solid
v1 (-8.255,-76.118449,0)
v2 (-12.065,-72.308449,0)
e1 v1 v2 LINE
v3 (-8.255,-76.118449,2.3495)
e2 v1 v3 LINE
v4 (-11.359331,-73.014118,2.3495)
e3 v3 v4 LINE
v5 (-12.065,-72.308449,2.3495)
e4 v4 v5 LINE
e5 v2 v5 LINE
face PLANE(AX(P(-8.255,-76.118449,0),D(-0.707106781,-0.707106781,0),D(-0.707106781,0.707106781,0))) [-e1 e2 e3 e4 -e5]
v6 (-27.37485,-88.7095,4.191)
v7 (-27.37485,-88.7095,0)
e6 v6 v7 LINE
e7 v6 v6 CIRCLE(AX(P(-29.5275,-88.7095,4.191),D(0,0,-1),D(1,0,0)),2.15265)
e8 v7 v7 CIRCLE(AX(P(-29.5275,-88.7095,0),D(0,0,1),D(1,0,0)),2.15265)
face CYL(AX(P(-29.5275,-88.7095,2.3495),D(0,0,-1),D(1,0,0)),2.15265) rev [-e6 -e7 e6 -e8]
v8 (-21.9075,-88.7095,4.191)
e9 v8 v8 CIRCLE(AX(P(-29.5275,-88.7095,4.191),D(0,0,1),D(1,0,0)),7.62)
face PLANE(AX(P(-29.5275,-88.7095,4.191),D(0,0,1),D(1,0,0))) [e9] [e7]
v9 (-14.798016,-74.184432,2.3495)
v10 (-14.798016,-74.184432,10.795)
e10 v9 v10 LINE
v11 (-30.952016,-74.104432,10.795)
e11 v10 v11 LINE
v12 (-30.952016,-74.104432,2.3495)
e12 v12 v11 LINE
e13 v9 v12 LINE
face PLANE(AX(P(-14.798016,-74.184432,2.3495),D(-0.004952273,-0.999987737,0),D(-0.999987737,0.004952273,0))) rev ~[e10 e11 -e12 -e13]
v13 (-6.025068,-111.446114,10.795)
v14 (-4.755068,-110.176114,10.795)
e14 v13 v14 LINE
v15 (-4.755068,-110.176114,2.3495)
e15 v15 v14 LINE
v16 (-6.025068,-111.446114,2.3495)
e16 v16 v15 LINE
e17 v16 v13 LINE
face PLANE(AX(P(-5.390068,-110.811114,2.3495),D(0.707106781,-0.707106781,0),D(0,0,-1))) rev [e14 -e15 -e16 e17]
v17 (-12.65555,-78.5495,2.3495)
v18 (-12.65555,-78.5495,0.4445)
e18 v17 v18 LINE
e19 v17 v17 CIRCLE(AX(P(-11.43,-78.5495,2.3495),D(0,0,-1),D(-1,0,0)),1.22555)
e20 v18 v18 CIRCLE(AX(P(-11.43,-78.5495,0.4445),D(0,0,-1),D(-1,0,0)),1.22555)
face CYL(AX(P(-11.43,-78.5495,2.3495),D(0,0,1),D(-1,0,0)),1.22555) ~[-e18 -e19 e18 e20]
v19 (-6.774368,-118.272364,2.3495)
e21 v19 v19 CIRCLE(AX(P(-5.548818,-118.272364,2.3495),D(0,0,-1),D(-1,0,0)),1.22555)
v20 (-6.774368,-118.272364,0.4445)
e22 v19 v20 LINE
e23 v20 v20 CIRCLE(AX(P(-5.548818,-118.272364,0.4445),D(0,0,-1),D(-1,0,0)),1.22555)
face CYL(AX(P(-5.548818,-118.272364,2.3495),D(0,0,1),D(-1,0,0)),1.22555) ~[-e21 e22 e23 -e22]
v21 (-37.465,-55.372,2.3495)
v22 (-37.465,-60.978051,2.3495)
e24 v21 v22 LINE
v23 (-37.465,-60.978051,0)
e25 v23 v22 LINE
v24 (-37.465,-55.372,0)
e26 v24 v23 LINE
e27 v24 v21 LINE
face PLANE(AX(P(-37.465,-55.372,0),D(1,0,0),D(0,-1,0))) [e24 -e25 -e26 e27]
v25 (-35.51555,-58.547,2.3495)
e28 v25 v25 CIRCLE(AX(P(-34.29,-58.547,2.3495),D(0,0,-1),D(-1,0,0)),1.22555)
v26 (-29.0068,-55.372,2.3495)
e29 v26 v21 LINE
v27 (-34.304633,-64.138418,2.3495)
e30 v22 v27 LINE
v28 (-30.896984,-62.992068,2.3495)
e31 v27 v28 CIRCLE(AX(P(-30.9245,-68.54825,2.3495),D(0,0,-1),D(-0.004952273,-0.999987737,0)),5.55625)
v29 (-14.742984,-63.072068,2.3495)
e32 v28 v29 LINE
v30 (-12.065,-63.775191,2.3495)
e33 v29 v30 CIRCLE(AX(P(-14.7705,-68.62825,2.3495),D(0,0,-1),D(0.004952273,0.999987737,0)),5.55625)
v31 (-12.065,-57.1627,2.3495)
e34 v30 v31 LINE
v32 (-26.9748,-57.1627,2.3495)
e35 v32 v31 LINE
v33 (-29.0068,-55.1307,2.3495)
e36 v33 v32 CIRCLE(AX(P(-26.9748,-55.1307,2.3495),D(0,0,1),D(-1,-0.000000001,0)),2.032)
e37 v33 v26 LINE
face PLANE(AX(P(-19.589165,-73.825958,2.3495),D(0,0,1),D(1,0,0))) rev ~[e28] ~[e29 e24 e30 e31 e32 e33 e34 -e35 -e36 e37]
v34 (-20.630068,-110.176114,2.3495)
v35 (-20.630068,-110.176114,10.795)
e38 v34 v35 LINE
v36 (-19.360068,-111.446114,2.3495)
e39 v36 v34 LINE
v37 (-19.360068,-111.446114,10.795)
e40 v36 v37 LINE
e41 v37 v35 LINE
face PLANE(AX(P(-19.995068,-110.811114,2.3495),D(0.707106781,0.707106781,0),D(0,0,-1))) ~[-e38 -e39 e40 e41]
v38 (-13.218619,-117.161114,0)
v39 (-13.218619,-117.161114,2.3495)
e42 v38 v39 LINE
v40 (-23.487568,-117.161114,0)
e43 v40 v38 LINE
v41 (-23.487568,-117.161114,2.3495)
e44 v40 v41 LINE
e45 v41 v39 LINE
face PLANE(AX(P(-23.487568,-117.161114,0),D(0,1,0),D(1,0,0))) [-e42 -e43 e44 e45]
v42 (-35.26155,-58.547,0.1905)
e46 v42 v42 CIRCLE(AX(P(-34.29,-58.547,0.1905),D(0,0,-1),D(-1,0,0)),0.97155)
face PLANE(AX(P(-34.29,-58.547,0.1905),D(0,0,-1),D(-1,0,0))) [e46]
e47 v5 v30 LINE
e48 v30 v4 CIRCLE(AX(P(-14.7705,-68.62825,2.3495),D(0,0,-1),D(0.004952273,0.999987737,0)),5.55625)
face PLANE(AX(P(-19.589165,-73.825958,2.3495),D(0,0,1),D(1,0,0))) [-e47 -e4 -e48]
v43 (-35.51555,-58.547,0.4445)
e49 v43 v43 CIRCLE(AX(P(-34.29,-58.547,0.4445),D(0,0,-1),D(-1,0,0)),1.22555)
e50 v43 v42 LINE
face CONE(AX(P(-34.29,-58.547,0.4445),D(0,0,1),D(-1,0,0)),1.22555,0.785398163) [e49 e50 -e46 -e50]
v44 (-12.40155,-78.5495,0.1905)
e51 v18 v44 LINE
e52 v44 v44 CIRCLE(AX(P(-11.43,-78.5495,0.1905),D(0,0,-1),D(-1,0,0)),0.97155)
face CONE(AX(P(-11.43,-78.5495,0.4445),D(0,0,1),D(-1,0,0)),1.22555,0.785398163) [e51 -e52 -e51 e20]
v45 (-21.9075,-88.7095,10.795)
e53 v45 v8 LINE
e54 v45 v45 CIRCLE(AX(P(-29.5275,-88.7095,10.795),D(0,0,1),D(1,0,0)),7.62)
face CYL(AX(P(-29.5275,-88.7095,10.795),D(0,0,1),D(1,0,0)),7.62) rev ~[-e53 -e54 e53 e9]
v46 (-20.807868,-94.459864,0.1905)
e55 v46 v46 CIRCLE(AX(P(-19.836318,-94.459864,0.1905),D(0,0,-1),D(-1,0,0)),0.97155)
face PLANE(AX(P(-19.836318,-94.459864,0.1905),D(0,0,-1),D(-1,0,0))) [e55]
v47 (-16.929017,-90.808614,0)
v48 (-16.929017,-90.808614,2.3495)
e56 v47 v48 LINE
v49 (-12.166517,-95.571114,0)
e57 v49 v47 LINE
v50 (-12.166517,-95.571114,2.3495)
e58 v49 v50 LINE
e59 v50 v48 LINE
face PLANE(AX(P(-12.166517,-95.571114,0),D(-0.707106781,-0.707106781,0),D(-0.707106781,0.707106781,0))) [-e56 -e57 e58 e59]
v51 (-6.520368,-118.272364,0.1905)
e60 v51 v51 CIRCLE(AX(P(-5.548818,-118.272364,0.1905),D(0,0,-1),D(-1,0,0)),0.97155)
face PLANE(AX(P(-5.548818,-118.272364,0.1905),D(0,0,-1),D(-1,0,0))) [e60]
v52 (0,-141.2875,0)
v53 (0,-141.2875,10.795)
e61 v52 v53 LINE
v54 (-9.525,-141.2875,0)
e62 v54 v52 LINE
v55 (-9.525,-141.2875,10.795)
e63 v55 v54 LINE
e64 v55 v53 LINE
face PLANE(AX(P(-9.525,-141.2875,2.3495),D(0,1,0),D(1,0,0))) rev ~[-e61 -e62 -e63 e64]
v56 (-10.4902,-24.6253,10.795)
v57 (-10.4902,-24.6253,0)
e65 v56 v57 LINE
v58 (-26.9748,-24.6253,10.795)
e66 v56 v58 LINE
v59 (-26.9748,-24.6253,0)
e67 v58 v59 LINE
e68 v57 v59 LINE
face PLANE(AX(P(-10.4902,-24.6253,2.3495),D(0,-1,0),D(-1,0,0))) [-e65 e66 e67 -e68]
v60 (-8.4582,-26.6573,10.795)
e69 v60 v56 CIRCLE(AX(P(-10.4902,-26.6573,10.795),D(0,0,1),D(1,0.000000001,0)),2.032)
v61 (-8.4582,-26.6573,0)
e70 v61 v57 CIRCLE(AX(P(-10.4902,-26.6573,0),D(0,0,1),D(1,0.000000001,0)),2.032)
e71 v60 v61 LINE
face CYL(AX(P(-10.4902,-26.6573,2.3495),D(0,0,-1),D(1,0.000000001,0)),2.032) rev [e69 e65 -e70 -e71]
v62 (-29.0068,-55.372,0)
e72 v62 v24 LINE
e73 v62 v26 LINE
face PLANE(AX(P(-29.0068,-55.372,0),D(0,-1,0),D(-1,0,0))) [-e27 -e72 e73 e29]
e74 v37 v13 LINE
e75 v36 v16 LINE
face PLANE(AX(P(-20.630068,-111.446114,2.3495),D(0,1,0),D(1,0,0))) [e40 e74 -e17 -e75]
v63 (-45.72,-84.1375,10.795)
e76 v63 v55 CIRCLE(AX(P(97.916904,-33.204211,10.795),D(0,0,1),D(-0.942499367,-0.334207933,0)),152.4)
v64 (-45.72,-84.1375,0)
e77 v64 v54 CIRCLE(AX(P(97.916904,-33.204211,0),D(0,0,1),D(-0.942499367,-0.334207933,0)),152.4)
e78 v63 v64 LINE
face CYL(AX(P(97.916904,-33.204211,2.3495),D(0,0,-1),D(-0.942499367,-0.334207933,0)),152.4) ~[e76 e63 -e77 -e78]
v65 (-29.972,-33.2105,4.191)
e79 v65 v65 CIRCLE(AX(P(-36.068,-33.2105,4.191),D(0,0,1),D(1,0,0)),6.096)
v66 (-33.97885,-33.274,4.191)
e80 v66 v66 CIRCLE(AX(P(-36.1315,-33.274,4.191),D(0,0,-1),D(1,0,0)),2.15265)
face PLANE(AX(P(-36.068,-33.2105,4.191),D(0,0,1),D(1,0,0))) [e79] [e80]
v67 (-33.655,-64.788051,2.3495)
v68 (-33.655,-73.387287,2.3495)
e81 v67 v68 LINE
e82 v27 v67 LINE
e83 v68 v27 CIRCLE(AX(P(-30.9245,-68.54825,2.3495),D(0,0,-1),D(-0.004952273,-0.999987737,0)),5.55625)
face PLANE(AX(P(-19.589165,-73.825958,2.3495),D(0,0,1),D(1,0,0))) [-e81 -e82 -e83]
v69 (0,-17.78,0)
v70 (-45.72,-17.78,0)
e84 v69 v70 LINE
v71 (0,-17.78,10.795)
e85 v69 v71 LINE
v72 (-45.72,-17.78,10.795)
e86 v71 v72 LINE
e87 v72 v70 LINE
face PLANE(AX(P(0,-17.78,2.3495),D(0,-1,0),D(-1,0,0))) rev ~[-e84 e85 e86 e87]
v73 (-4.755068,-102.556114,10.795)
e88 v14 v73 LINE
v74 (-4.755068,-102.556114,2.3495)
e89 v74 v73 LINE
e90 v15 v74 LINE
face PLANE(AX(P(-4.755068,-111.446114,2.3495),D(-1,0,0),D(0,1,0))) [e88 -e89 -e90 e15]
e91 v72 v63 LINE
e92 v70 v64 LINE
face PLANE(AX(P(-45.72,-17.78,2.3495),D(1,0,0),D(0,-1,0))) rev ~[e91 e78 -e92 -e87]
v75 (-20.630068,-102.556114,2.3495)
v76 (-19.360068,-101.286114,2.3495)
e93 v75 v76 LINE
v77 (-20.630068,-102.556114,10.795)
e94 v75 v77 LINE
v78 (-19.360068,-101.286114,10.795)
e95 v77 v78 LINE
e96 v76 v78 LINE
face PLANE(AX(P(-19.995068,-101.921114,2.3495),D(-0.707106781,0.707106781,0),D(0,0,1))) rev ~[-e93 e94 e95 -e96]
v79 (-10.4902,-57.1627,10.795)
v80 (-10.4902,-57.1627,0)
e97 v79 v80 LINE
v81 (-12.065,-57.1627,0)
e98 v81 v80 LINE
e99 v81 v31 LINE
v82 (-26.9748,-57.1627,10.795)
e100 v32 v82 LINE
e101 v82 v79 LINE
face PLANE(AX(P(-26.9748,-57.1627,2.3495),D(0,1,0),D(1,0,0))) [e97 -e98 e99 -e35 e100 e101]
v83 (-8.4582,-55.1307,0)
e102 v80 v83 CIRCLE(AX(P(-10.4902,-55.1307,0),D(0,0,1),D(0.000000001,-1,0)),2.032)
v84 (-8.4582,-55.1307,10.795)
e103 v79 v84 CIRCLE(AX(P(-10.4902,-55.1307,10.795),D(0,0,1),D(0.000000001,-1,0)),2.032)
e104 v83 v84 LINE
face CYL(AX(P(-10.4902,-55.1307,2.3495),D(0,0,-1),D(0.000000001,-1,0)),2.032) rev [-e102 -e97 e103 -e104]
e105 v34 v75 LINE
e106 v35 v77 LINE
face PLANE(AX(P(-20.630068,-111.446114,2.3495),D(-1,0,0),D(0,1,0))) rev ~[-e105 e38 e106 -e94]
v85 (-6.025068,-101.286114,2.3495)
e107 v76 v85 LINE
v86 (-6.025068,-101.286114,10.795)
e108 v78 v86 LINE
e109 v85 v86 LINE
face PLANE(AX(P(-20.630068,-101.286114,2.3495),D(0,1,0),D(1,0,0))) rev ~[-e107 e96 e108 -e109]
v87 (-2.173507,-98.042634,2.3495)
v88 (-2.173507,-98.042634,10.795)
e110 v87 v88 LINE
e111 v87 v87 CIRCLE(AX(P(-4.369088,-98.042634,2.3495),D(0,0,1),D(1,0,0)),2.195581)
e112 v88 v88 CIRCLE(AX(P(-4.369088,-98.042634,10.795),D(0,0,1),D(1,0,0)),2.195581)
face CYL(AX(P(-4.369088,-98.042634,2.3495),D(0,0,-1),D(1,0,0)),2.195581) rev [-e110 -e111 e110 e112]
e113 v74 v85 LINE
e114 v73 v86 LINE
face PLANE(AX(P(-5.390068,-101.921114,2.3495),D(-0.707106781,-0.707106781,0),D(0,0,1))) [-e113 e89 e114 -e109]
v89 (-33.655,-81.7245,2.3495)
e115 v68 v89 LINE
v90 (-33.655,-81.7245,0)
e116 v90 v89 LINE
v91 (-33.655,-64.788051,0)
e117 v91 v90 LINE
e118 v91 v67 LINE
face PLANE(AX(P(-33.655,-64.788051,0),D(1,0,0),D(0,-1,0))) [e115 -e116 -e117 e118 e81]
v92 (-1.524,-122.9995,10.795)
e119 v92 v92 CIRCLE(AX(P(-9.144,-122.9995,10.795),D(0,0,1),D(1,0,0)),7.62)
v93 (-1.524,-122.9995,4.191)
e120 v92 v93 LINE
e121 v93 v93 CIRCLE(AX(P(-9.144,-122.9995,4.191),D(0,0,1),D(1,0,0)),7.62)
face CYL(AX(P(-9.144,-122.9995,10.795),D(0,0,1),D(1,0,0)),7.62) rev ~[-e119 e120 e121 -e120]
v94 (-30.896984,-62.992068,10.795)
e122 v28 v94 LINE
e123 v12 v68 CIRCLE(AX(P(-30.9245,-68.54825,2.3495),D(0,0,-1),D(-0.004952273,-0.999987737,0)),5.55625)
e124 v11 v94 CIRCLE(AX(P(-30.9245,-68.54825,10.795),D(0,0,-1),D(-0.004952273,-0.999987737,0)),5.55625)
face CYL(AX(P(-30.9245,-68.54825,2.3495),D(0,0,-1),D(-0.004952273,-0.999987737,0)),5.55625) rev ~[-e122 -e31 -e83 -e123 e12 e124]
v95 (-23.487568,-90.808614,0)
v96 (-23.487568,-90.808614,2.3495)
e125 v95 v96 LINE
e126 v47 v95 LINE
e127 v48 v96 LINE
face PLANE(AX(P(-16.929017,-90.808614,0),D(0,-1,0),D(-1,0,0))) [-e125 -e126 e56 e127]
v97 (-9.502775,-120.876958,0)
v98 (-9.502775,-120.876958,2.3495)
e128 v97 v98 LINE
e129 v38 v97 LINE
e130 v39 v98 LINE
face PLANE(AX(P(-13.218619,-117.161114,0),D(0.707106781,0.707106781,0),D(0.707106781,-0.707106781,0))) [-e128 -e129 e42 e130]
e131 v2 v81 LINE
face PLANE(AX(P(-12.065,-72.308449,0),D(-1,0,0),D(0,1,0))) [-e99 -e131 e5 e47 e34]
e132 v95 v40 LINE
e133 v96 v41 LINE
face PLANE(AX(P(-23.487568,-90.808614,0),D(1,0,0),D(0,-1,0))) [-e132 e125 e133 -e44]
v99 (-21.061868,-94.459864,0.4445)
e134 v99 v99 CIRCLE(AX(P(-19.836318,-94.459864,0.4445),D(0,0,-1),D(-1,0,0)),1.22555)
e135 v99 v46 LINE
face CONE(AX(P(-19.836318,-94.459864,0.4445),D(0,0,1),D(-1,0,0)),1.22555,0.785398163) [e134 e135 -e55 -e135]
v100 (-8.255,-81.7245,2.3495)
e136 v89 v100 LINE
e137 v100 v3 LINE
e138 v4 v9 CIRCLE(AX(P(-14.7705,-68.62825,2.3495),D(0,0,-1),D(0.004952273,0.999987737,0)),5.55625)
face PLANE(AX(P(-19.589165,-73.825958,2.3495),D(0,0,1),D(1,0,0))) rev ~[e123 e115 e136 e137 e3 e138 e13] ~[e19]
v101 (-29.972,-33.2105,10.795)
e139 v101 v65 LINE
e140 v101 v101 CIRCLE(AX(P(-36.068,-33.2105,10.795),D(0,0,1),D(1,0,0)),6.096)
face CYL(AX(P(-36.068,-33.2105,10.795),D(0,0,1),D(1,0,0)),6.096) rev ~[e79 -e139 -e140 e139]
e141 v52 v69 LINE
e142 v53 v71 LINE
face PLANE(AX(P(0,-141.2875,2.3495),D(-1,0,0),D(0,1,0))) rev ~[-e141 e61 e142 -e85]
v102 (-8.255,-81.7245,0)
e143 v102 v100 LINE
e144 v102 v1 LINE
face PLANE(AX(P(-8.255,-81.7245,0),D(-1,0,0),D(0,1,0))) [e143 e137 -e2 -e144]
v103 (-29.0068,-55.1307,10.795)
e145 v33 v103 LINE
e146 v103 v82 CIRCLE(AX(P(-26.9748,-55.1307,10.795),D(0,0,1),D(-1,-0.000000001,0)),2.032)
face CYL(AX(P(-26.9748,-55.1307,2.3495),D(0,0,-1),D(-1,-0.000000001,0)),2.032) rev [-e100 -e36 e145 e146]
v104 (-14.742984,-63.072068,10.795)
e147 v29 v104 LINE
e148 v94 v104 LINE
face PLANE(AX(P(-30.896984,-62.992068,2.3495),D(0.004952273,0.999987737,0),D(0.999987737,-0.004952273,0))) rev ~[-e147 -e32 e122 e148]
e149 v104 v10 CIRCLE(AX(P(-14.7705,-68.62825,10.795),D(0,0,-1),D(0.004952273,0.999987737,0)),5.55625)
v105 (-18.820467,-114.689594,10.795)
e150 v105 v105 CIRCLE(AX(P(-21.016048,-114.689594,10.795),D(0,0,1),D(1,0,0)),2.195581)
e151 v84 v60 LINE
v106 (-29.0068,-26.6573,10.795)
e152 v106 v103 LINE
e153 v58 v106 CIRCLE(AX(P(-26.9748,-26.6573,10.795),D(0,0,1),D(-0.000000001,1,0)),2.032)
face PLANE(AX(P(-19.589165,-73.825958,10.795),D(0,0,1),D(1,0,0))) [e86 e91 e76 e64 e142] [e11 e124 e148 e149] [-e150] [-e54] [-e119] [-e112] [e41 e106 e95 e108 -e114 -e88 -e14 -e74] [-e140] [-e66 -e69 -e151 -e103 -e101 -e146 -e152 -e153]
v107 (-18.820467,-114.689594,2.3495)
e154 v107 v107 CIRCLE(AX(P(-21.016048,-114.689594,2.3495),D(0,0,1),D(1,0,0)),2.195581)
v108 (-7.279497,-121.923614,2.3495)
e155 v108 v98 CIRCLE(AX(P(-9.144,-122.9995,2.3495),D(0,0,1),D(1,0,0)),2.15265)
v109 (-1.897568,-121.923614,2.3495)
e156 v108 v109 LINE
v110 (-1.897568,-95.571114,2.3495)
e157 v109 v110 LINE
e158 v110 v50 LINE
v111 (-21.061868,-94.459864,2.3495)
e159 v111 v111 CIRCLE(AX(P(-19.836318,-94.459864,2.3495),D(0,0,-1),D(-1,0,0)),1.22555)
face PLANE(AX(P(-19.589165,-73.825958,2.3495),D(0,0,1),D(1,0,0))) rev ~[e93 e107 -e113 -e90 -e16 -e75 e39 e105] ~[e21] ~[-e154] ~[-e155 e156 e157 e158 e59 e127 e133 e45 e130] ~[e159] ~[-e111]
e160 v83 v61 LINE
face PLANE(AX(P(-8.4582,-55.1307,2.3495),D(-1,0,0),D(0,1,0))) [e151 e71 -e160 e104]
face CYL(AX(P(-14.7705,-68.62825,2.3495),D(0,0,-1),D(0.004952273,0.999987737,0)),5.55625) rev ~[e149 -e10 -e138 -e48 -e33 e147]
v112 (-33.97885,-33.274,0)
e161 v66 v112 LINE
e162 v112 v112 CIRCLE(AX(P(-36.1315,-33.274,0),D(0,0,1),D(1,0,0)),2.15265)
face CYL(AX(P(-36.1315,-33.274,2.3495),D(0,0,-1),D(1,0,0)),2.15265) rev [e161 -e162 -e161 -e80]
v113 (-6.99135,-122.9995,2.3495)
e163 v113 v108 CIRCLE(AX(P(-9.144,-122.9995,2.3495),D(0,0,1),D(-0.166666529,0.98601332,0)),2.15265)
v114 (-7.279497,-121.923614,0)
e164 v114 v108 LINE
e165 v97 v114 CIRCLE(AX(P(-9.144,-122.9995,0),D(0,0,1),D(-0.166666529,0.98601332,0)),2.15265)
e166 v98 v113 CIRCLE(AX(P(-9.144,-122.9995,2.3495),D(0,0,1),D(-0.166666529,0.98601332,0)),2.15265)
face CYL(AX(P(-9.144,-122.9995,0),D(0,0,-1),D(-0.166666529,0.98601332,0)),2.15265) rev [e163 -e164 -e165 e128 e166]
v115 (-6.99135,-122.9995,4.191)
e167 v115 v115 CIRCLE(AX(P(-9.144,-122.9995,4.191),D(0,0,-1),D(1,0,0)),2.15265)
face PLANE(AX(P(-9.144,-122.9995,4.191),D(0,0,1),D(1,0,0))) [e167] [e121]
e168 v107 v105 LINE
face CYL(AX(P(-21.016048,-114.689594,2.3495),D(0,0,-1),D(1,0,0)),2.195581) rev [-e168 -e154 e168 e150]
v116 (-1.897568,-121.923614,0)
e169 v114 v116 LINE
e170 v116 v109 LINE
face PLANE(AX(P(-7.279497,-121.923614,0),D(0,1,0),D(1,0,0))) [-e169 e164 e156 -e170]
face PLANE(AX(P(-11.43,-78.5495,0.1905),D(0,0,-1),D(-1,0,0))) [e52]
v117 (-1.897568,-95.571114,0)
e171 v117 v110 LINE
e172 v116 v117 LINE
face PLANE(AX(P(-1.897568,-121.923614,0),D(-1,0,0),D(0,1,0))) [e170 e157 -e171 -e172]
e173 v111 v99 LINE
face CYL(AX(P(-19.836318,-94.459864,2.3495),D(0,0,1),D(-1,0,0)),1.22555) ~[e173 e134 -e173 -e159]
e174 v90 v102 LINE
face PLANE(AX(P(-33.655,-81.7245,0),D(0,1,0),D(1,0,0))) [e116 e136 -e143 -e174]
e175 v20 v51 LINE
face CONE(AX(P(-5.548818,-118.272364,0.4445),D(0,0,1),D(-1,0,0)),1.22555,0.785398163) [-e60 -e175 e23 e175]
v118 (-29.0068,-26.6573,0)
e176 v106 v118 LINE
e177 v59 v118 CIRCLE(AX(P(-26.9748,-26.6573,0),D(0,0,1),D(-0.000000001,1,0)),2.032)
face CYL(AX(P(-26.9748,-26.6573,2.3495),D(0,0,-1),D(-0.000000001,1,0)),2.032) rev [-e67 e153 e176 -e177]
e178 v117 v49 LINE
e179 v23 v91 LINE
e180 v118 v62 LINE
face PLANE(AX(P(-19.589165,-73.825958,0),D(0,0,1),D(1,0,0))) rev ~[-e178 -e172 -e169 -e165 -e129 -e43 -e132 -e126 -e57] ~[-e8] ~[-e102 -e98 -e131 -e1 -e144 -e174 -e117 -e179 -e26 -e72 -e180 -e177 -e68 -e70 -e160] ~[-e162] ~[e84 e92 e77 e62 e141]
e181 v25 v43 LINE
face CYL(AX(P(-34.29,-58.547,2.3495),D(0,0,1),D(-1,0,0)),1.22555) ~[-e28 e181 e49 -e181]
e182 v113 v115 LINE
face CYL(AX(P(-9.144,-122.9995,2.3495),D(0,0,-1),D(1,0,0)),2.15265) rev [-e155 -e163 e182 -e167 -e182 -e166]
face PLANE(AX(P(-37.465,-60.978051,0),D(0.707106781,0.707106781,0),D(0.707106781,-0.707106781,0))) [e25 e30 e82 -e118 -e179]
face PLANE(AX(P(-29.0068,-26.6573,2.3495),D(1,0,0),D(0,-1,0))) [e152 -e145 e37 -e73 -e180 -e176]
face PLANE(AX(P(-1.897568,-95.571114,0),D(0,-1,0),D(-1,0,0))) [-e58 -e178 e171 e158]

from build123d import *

# Parameters (mm, degrees)
SKETCH1_R           = 2.15265
BOSS_EXTRUDE1_DEPTH = 2.3495
SKETCH2_R           = 2.15265
SKETCH2_R_2         = 2.195581339
SKETCH2_W           = 15.875
SKETCH2_H           = 10.16
BOSS_EXTRUDE2_DEPTH = 8.4455
SKETCH3_R           = 1.22555
BOSS_EXTRUDE3_DEPTH = 2.159
CHAMFER1_SIZE       = 0.254
CHAMFER2_SIZE       = 1.27
SKETCH5_R           = 7.62
SKETCH5_R_2         = 6.096
CUT_EXTRUDE1_DEPTH  = 6.604


with BuildPart() as part:
    # Sketch1 → Boss-Extrude1 (new body)
    with BuildSketch(Plane.XY):
        with BuildLine():
            Line((0, -17.78), (-45.72, -17.78))
            Line((-45.72, -17.78), (-45.72, -84.1375))
            ThreePointArc((-45.72, -84.1375), (-30.833523511, -114.746148224), (-9.525, -141.2875))
            Line((-9.525, -141.2875), (0, -141.2875))
            Line((0, -141.2875), (0, -17.78))
        make_face()
        with Locations((-36.1315, -33.274)):
            Circle(SKETCH1_R, mode=Mode.SUBTRACT)
        with Locations((-29.5275, -88.7095)):
            Circle(SKETCH1_R, mode=Mode.SUBTRACT)
        with BuildLine():
            Line((-1.89756812, -121.923613785), (-1.89756812, -95.571113785))
            Line((-1.89756812, -95.571113785), (-12.166516896, -95.571113785))
            Line((-12.166516896, -95.571113785), (-16.929016896, -90.808613785))
            Line((-16.929016896, -90.808613785), (-23.48756812, -90.808613785))
            Line((-23.48756812, -90.808613785), (-23.48756812, -117.161113785))
            Line((-23.48756812, -117.161113785), (-13.218619344, -117.161113785))
            Line((-13.218619344, -117.161113785), (-9.502774703, -120.876958426))
            ThreePointArc((-9.502774703, -120.876958426), (-10.060883947, -124.947120561), (-7.279497151, -121.923613785))
            Line((-7.279497151, -121.923613785), (-1.89756812, -121.923613785))
        make_face(mode=Mode.SUBTRACT)
        with BuildLine():
            Line((-33.655, -81.7245), (-8.255, -81.7245))
            Line((-8.255, -81.7245), (-8.255, -76.118448776))
            Line((-8.255, -76.118448776), (-12.065, -72.308448776))
            Line((-12.065, -72.308448776), (-12.065, -57.1627))
            Line((-12.065, -57.1627), (-10.4902, -57.1627))
            ThreePointArc((-10.4902, -57.1627), (-9.053359021, -56.567540979), (-8.4582, -55.1307))
            Line((-8.4582, -55.1307), (-8.4582, -26.6573))
            ThreePointArc((-8.4582, -26.6573), (-9.053359021, -25.220459021), (-10.4902, -24.6253))
            Line((-10.4902, -24.6253), (-26.9748, -24.6253))
            ThreePointArc((-26.9748, -24.6253), (-28.411640979, -25.220459021), (-29.0068, -26.6573))
            Line((-29.0068, -26.6573), (-29.0068, -55.372))
            Line((-29.0068, -55.372), (-37.465, -55.372))
            Line((-37.465, -55.372), (-37.465, -60.978051224))
            Line((-37.465, -60.978051224), (-33.655, -64.788051224))
            Line((-33.655, -64.788051224), (-33.655, -81.7245))
        make_face(mode=Mode.SUBTRACT)
    extrude(amount=BOSS_EXTRUDE1_DEPTH)

    # Sketch2 → Boss-Extrude2 (add)
    with BuildSketch(Plane.XY.offset(2.3495)):
        with BuildLine():
            Line((-9.525, -141.2875), (0, -141.2875))
            Line((0, -141.2875), (0, -17.78))
            Line((0, -17.78), (-45.72, -17.78))
            Line((-45.72, -17.78), (-45.72, -84.1375))
            ThreePointArc((-45.72, -84.1375), (-30.833523511, -114.746148224), (-9.525, -141.2875))
        make_face()
        with Locations((-9.144, -122.9995)):
            Circle(SKETCH2_R, mode=Mode.SUBTRACT)
        with Locations((-29.5275, -88.7095)):
            Circle(SKETCH2_R, mode=Mode.SUBTRACT)
        with Locations((-21.016048243, -114.689593907)):
            Circle(SKETCH2_R_2, mode=Mode.SUBTRACT)
        with Locations((-4.369087998, -98.042633662)):
            Circle(SKETCH2_R_2, mode=Mode.SUBTRACT)
        with Locations((-36.1315, -33.274)):
            Circle(SKETCH2_R, mode=Mode.SUBTRACT)
        with Locations((-12.69256812, -106.366113785)):
            Rectangle(SKETCH2_W, SKETCH2_H, mode=Mode.SUBTRACT)
        with BuildLine():
            Line((-14.798016067, -74.184431866), (-30.952016067, -74.104431866))
            ThreePointArc((-30.952016067, -74.104431866), (-36.480681866, -68.520733933), (-30.896983933, -62.992068134))
            Line((-30.896983933, -62.992068134), (-14.742983933, -63.072068134))
            ThreePointArc((-14.742983933, -63.072068134), (-9.214318134, -68.655766067), (-14.798016067, -74.184431866))
        make_face(mode=Mode.SUBTRACT)
        with BuildLine():
            Line((-8.4582, -55.1307), (-8.4582, -26.6573))
            ThreePointArc((-8.4582, -26.6573), (-9.053359021, -25.220459021), (-10.4902, -24.6253))
            Line((-10.4902, -24.6253), (-26.9748, -24.6253))
            ThreePointArc((-26.9748, -24.6253), (-28.411640979, -25.220459021), (-29.0068, -26.6573))
            Line((-29.0068, -26.6573), (-29.0068, -55.1307))
            ThreePointArc((-29.0068, -55.1307), (-28.411640979, -56.567540979), (-26.9748, -57.1627))
            Line((-26.9748, -57.1627), (-10.4902, -57.1627))
            ThreePointArc((-10.4902, -57.1627), (-9.053359021, -56.567540979), (-8.4582, -55.1307))
        make_face(mode=Mode.SUBTRACT)
    extrude(amount=BOSS_EXTRUDE2_DEPTH)

    # Sketch3 → Boss-Extrude3 (add)
    with BuildSketch(Plane(origin=(0, 0, 2.3495), x_dir=(-1, 0, 0), z_dir=(0, 0, -1))):
        with Locations((34.29, -58.547)):
            Circle(SKETCH3_R)
        with Locations((11.43, -78.5495)):
            Circle(SKETCH3_R)
        with Locations((5.54881812, -118.272363785)):
            Circle(SKETCH3_R)
        with Locations((19.83631812, -94.459863785)):
            Circle(SKETCH3_R)
    extrude(amount=BOSS_EXTRUDE3_DEPTH)

    # Chamfer1
    chamfer1_edges = [part.edges().sort_by_distance(p)[0] for p in [
        (-33.06445, -58.547, 0.1905),
        (-10.20445, -78.5495, 0.1905),
        (-4.32326812, -118.272363785, 0.1905),
        (-18.61076812, -94.459863785, 0.1905),
    ]]
    chamfer(chamfer1_edges, length=CHAMFER1_SIZE)

    # Chamfer2
    chamfer2_edges = [part.edges().sort_by_distance(p)[0] for p in [
        (-20.63006812, -111.446113785, 6.57225),
        (-4.75506812, -111.446113785, 6.57225),
        (-4.75506812, -101.286113785, 6.57225),
        (-20.63006812, -101.286113785, 6.57225),
    ]]
    chamfer(chamfer2_edges, length=CHAMFER2_SIZE)

    # Sketch5 → Cut-Extrude1 (cut)
    with BuildSketch(Plane.XY.offset(10.795)):
        with Locations((-9.144, -122.9995)):
            Circle(SKETCH5_R)
        with Locations((-29.5275, -88.7095)):
            Circle(SKETCH5_R)
        with Locations((-36.068, -33.2105)):
            Circle(SKETCH5_R_2)
    extrude(amount=-CUT_EXTRUDE1_DEPTH, mode=Mode.SUBTRACT)


solid = part.part
